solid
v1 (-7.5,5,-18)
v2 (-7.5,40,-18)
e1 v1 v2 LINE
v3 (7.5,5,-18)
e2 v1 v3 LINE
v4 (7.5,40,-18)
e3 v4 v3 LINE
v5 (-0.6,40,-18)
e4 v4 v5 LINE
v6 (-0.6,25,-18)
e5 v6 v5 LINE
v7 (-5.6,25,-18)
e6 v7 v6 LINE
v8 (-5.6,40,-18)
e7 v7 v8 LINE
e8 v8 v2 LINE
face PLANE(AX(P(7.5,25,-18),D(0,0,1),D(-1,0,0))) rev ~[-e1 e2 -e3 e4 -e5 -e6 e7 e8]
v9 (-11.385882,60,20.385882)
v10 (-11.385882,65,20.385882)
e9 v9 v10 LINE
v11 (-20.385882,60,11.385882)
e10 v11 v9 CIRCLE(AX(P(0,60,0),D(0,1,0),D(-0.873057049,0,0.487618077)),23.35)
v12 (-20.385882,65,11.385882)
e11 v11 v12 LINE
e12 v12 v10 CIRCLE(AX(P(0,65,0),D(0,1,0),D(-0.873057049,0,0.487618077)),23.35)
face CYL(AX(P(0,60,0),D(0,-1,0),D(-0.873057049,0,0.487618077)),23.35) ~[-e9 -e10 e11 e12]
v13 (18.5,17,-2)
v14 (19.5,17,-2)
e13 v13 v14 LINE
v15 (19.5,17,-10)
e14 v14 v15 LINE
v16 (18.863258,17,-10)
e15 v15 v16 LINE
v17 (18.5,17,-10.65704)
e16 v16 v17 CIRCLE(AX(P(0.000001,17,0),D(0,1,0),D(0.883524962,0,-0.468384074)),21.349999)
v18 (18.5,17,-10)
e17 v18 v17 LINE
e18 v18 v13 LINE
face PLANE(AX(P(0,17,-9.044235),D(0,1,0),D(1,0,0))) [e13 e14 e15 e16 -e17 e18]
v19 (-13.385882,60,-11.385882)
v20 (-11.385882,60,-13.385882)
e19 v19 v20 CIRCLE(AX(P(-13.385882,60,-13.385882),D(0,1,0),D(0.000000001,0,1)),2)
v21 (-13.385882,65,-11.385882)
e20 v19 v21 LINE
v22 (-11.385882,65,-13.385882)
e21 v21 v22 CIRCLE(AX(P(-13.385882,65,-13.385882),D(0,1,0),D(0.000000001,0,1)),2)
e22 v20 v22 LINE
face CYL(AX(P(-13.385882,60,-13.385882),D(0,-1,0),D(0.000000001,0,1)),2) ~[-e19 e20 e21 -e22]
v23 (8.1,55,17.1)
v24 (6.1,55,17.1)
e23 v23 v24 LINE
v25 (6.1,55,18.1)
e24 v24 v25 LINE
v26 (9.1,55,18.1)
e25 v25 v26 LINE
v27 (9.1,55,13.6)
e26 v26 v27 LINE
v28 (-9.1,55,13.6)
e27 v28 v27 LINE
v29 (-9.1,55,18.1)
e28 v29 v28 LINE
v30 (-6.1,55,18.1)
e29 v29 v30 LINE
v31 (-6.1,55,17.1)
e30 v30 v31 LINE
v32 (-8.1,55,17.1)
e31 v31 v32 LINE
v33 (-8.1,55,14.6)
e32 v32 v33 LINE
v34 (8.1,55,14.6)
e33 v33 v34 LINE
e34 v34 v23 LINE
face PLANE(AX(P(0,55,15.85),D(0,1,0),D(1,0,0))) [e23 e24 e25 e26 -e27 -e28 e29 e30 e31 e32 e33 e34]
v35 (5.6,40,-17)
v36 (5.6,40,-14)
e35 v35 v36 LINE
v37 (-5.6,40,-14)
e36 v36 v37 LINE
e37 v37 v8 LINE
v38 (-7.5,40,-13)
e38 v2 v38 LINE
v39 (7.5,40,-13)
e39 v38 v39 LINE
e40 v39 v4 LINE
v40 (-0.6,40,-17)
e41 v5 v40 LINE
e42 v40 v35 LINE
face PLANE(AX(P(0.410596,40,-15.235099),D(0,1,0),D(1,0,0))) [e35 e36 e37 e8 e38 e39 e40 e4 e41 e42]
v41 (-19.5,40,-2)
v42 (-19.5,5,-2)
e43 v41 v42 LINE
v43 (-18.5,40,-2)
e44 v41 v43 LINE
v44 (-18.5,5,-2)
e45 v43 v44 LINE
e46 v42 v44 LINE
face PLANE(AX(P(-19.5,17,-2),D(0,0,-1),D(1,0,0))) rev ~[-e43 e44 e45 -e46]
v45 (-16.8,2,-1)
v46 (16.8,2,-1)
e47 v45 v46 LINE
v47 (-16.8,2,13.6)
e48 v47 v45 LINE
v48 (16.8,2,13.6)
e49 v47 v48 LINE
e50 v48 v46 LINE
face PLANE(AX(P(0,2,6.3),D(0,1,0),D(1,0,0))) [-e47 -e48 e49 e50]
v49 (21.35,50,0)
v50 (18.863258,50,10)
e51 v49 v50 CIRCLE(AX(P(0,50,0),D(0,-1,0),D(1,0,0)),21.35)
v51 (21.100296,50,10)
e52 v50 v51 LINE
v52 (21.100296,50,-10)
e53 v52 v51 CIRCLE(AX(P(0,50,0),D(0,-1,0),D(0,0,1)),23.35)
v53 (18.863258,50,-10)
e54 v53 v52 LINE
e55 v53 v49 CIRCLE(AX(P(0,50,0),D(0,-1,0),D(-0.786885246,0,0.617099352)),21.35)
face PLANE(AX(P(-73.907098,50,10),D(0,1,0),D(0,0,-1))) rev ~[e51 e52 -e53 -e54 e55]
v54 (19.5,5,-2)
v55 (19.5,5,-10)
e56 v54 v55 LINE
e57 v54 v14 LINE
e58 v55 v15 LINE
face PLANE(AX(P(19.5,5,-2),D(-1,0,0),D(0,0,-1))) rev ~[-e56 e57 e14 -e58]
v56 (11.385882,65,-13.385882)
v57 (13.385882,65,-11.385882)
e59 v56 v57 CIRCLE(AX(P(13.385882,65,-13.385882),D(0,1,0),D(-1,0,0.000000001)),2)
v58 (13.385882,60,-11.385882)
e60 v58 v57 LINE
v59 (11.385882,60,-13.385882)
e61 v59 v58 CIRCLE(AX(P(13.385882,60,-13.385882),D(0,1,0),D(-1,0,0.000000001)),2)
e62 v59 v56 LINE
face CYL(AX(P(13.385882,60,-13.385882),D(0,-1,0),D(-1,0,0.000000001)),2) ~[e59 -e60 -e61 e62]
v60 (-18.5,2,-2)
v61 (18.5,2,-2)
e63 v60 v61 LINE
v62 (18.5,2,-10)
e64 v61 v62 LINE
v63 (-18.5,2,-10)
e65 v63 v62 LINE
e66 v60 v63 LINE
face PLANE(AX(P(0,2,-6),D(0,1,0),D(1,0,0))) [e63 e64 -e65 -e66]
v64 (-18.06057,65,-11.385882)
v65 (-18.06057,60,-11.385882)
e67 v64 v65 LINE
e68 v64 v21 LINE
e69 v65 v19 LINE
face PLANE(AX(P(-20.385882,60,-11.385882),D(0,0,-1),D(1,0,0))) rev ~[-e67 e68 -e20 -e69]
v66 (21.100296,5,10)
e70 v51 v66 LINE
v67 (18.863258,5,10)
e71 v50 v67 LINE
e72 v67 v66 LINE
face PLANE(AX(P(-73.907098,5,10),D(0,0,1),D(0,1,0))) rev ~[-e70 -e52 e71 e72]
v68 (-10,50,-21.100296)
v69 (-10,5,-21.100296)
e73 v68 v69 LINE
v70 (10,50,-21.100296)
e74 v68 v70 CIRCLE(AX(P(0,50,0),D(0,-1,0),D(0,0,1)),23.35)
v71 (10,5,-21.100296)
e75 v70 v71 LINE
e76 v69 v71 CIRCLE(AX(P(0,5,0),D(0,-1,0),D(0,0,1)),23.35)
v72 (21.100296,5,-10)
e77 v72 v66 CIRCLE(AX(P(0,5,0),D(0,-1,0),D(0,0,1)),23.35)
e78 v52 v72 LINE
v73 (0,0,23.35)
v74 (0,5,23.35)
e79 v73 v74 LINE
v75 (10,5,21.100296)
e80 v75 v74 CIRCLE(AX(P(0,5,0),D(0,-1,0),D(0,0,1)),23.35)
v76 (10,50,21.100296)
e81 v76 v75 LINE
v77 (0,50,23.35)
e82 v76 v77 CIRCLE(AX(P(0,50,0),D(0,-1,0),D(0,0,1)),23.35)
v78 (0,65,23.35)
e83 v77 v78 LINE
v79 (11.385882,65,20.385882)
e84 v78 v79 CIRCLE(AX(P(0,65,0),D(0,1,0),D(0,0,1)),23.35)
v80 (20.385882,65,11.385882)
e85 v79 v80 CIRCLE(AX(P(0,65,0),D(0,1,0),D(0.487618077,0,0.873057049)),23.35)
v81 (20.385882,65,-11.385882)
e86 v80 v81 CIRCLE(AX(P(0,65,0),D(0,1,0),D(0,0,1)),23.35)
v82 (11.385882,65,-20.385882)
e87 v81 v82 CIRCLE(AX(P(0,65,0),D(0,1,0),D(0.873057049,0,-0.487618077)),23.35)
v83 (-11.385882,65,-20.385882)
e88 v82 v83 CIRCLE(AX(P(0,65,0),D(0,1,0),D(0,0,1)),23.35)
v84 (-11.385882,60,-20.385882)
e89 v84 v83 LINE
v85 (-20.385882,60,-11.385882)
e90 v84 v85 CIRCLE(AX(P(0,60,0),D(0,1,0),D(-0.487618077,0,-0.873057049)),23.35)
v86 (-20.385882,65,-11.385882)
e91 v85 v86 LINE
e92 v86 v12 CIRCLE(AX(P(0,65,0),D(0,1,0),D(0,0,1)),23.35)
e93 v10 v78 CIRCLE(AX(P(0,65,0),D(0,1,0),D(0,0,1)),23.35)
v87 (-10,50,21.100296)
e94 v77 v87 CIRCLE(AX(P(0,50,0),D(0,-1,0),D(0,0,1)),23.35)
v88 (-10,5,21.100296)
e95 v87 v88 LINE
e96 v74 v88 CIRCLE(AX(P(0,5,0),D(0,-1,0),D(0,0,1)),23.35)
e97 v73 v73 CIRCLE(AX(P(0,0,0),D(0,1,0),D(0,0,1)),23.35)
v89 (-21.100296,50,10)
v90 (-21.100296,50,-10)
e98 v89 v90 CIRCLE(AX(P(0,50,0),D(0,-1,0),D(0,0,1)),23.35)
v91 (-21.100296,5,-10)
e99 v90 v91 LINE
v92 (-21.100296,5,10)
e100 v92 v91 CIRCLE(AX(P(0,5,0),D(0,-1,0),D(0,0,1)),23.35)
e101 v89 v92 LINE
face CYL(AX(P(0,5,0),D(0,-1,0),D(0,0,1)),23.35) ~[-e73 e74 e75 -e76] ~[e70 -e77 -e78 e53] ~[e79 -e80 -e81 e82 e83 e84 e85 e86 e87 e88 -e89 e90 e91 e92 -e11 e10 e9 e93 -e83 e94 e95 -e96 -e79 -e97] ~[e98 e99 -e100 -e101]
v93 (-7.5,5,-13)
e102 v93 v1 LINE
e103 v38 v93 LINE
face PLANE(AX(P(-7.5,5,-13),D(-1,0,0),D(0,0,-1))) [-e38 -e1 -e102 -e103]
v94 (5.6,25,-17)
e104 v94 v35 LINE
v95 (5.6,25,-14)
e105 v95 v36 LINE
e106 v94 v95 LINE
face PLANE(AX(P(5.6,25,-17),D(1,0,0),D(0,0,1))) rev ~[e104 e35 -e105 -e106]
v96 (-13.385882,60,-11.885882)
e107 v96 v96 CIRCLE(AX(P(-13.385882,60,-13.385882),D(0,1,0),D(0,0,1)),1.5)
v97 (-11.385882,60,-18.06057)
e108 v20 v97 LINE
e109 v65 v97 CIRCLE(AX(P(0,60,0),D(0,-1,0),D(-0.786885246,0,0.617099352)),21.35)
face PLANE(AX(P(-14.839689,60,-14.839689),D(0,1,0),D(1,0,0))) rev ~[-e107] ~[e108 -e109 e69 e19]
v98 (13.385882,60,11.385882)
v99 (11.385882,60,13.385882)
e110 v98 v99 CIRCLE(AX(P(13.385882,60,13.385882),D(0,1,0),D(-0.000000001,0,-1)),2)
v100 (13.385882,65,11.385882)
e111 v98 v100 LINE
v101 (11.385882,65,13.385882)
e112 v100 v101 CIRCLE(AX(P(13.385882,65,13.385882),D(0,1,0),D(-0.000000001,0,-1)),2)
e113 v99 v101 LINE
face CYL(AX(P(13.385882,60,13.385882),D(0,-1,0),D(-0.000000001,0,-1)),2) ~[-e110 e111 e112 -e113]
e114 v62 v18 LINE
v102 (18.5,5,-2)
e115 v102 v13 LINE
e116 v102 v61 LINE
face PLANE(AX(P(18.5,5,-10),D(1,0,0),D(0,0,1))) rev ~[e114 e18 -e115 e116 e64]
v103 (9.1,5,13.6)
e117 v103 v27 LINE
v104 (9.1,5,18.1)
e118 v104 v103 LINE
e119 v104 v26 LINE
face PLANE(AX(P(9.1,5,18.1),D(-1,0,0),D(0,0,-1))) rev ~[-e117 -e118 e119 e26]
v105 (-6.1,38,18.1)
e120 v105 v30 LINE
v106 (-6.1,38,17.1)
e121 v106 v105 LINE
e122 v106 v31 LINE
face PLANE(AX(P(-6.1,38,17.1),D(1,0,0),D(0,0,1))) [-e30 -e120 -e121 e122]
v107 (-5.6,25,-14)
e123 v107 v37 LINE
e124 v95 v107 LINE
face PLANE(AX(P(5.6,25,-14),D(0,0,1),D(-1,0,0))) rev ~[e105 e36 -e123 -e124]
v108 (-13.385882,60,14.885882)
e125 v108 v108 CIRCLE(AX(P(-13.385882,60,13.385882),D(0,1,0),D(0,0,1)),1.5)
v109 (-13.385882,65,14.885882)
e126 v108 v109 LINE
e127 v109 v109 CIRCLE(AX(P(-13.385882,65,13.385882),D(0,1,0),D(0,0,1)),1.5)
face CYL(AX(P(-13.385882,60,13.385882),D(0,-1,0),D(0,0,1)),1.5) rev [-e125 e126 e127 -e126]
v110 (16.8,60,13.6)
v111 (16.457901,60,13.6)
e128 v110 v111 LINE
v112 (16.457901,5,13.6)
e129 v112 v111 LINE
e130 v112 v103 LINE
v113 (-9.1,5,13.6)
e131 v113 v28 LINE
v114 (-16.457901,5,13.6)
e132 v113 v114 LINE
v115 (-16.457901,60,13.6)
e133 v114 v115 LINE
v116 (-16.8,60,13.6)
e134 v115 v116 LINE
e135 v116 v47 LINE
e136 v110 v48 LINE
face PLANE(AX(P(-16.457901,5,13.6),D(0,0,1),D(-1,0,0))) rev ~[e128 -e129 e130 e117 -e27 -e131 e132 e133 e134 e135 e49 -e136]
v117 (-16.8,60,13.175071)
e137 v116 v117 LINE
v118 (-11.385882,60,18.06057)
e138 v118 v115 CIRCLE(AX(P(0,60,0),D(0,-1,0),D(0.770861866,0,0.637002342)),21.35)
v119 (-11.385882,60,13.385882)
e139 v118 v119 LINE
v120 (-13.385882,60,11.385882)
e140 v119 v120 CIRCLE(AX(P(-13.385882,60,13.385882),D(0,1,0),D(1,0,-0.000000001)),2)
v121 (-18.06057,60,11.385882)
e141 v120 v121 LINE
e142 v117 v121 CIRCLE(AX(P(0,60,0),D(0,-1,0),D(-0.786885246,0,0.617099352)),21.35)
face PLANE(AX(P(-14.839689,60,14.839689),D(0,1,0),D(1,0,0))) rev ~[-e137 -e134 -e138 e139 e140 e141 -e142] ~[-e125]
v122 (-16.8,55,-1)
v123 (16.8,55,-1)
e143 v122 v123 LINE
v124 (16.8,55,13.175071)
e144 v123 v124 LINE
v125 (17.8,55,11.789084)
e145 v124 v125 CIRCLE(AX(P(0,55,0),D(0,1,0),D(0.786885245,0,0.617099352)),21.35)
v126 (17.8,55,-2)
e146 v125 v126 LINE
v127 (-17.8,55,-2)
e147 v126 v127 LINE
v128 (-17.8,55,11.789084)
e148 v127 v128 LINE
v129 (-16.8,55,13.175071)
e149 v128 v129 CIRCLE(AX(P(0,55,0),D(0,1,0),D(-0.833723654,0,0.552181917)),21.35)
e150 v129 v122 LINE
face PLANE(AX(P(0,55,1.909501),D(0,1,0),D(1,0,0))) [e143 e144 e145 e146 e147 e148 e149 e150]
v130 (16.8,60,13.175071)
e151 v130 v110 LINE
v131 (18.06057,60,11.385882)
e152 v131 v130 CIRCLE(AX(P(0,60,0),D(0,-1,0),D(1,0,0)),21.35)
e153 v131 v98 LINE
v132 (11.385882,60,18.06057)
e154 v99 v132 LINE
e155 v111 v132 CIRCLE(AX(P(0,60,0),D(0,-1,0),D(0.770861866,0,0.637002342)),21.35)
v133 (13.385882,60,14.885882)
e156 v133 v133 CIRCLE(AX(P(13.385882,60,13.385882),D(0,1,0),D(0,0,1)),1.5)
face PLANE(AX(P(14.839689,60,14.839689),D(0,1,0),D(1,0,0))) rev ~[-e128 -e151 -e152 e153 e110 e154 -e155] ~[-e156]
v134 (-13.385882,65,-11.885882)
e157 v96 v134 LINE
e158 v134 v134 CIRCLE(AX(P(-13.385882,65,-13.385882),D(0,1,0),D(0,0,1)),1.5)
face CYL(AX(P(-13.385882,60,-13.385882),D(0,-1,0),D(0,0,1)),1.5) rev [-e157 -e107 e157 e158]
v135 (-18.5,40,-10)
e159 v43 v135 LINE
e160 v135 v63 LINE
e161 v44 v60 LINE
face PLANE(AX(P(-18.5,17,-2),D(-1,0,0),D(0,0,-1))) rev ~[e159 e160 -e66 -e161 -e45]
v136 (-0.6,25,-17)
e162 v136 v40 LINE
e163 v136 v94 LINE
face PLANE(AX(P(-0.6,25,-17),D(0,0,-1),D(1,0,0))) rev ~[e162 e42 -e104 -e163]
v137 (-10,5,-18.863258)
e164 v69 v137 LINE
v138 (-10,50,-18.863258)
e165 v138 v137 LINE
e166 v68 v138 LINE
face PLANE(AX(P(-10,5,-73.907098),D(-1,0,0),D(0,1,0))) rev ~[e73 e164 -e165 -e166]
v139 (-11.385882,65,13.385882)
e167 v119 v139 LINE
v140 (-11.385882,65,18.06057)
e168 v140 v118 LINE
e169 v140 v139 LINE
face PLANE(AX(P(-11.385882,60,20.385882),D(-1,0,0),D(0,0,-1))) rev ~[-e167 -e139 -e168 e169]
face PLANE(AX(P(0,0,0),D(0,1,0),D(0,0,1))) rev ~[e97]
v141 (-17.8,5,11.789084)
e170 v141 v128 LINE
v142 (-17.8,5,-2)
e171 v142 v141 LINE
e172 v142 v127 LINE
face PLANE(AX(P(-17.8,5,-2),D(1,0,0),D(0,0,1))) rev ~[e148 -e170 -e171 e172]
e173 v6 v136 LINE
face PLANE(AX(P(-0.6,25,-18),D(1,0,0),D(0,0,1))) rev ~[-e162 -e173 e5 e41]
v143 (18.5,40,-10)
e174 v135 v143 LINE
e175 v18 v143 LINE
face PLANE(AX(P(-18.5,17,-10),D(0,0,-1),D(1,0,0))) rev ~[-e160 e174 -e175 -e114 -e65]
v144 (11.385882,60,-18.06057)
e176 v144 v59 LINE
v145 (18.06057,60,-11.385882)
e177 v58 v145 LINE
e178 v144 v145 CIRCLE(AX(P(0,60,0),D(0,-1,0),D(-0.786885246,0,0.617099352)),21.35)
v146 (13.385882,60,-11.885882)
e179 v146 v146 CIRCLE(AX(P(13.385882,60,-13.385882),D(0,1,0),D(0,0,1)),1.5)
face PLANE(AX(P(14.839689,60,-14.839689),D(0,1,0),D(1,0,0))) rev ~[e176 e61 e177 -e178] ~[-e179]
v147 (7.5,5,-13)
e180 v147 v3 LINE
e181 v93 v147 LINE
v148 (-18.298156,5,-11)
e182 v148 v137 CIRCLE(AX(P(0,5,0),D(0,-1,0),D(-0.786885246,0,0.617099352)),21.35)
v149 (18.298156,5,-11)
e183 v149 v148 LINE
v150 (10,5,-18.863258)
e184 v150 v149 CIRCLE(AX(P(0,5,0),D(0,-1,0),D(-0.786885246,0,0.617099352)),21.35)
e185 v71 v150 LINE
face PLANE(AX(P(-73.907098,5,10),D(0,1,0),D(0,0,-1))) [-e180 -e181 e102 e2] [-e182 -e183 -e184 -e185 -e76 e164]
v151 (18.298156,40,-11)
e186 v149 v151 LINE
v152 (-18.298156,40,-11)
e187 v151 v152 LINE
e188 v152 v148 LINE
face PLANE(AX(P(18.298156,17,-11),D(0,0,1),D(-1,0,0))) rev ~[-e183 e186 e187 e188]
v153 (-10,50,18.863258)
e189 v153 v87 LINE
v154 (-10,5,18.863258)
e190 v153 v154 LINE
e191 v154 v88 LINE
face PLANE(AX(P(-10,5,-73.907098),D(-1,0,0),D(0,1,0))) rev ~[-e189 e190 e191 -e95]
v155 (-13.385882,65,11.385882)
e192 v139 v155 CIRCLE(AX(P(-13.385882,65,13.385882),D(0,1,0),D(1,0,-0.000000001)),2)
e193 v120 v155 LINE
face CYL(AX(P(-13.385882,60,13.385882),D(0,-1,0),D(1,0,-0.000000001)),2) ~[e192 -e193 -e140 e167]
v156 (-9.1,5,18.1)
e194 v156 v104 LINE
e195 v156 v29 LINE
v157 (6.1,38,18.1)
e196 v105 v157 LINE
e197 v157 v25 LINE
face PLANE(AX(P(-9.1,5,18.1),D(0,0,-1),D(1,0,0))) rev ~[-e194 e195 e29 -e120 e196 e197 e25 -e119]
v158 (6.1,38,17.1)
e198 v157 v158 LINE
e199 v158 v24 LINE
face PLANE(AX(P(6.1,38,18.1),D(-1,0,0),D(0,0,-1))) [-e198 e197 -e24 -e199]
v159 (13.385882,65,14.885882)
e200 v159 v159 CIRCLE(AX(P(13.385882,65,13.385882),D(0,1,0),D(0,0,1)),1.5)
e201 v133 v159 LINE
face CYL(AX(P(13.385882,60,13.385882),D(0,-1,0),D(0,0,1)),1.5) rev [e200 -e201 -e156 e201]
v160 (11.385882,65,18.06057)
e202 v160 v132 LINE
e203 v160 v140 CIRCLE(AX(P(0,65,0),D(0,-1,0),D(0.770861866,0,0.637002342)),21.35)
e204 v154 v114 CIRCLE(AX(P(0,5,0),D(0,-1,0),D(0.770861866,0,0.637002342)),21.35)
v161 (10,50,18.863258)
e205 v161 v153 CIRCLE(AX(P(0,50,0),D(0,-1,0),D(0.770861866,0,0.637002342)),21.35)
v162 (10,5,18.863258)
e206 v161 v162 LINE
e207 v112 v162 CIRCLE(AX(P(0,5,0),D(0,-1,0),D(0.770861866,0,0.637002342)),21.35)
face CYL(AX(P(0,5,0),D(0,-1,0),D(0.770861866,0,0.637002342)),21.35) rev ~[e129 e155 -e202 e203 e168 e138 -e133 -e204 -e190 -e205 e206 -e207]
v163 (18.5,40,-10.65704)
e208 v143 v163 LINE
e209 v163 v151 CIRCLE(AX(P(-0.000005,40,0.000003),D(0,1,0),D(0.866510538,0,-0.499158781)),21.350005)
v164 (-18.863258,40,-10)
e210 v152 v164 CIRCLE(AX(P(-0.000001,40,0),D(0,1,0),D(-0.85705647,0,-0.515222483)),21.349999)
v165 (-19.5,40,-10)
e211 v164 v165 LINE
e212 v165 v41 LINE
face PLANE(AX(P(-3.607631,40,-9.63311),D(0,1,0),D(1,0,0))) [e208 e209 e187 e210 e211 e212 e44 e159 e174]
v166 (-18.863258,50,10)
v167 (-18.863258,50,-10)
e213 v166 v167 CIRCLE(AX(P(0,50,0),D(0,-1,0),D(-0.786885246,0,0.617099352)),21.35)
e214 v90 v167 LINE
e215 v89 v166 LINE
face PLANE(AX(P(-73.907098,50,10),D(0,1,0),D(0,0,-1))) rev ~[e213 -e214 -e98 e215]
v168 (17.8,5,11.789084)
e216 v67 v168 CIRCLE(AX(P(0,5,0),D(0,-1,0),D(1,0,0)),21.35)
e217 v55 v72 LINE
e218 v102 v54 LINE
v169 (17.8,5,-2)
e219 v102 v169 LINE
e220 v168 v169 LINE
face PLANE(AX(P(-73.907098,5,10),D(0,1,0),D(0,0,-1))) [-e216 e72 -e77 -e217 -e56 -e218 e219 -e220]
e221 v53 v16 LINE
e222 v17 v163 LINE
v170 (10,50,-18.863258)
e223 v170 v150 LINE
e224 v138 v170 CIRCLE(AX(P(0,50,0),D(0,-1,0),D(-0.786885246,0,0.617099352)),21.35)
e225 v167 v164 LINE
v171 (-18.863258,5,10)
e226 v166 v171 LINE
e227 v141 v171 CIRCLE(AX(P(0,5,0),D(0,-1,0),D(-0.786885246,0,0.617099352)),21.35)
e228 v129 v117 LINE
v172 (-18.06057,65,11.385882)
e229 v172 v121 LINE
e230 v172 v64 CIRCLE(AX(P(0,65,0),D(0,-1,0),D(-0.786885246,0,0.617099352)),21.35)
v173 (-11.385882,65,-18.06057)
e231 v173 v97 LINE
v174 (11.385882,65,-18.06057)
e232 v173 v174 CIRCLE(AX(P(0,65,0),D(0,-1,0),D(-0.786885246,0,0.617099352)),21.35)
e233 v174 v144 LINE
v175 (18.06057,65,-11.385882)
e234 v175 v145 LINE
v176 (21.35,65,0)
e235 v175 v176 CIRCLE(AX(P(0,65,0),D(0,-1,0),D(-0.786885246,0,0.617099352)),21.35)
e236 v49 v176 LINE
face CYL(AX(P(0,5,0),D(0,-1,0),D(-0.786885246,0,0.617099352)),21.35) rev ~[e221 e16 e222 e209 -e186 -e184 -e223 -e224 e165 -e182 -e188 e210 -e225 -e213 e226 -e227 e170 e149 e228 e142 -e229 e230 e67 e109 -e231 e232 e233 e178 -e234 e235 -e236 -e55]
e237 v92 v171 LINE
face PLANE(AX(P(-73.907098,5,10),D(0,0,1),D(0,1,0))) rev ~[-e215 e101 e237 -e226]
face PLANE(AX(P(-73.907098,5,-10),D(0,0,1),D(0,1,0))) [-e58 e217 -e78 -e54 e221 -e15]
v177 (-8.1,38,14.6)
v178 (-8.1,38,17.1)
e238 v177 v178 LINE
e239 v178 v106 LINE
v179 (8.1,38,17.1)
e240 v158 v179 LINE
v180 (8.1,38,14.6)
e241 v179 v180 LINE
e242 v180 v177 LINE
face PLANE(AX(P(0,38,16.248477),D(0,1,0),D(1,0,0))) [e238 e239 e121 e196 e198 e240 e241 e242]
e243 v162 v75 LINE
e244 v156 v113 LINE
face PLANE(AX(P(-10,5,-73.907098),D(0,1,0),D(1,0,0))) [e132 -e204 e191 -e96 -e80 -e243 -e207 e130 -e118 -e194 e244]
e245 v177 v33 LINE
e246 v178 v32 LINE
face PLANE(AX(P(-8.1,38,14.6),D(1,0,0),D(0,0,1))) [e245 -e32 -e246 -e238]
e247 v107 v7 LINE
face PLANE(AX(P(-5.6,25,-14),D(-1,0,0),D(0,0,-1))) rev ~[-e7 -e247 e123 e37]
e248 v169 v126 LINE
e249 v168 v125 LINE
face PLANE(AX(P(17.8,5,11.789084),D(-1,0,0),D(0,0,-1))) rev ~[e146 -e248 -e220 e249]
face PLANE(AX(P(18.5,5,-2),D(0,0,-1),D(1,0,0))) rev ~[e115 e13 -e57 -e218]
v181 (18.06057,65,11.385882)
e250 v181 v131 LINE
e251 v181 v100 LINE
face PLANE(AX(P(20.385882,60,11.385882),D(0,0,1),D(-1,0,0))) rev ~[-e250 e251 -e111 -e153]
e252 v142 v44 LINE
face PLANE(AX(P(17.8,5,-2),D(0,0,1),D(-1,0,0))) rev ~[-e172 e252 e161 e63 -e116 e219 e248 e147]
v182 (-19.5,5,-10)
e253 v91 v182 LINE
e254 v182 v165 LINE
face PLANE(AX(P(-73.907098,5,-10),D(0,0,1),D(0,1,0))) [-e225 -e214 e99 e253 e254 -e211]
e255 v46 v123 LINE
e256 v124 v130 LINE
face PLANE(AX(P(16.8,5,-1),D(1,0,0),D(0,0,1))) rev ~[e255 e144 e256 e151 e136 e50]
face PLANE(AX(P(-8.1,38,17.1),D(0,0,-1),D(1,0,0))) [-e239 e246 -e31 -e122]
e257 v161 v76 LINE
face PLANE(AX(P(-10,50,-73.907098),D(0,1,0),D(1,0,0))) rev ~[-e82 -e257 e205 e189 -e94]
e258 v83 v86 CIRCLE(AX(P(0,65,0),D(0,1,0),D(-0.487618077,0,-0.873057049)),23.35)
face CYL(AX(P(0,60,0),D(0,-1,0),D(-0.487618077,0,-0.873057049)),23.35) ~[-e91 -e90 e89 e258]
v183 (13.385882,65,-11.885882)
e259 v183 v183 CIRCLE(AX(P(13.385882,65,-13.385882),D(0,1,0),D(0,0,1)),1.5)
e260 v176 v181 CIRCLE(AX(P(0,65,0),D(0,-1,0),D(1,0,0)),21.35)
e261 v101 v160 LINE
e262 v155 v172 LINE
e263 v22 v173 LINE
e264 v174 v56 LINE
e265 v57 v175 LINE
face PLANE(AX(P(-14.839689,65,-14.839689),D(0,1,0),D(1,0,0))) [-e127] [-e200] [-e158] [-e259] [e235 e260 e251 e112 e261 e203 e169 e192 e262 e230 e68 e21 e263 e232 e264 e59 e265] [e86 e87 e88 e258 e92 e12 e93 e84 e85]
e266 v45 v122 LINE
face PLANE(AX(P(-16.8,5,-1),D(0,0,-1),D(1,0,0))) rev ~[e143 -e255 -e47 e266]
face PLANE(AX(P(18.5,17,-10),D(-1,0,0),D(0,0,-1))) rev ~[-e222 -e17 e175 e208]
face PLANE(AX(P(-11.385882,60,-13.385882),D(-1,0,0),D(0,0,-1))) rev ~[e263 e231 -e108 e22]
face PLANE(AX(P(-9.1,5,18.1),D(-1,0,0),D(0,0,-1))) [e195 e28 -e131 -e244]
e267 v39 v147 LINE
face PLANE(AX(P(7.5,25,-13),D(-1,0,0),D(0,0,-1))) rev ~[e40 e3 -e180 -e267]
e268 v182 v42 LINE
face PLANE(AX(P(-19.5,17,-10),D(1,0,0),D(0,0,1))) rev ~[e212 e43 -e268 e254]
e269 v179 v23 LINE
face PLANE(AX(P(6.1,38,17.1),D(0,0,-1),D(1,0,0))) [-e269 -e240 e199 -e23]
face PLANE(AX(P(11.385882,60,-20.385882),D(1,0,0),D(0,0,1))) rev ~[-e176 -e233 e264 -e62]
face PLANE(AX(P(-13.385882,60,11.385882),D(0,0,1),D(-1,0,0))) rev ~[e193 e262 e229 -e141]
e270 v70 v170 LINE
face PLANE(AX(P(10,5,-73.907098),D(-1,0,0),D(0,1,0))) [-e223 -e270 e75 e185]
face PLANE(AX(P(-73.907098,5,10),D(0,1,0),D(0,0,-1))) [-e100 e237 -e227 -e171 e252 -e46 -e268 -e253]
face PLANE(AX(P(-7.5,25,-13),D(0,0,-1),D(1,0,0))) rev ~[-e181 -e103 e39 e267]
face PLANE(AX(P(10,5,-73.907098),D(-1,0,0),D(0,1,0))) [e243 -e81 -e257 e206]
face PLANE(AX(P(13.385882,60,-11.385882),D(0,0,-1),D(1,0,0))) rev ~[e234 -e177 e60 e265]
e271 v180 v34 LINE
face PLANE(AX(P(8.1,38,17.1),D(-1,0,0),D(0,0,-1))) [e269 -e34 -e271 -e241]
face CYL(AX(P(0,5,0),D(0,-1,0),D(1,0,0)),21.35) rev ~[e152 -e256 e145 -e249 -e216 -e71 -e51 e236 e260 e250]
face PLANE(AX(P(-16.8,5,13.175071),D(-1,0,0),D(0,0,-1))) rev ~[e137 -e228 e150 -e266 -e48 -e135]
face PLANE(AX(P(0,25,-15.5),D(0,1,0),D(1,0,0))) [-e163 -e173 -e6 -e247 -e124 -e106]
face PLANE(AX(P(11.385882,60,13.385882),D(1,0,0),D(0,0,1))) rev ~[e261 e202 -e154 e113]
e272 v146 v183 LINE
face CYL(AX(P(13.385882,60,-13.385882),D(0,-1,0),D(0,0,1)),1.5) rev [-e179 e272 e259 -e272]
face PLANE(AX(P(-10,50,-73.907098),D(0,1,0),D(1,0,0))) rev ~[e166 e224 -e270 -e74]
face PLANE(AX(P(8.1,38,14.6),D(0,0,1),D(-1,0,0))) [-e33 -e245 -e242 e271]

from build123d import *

# Parameters (mm, degrees)
ESQUISSE1_R                  = 23.35
BOSS_EXTRU_1_DEPTH           = 5
ESQUISSE2_W                  = 37
ESQUISSE2_H                  = 8
ESQUISSE2_W_2                = 33.6
ESQUISSE2_H_2                = 14.6
ENL_V_MAT_EXTRU_4_DEPTH      = 3
ESQUISSE10_R                 = 23.35
BOSS_EXTRU_2_DEPTH           = 60
ENL_V_MAT_EXTRU_5_DEPTH      = 73.90709842
ENL_V_MAT_EXTRU_5_DEPTH_BACK = 73.90709842
ESQUISSE11_W                 = 20
ESQUISSE11_H                 = 45
ENL_V_MAT_EXTRU_6_DEPTH      = 73.90709842
ENL_V_MAT_EXTRU_6_DEPTH_BACK = 73.90709842
ESQUISSE12_W                 = 20
ESQUISSE12_H                 = 45
ESQUISSE13_W                 = 18.2
ESQUISSE13_H                 = 4.5
ESQUISSE13_W_2               = 16.2
ESQUISSE13_H_2               = 2.5
BOSS_EXTRU_4_DEPTH           = 50
ENL_V_MAT_EXTRU_7_DEPTH      = 65.151734193
ENL_V_MAT_EXTRU_7_DEPTH_BACK = 17
ESQUISSE16_W                 = 15
ESQUISSE16_H                 = 5
BOSS_EXTRU_5_DEPTH           = 20
BOSS_EXTRU_6_DEPTH           = 15
BOSS_EXTRU_7_START           = -5
ESQUISSE18_R                 = 1.5
BOSS_EXTRU_7_DEPTH           = 5
BOSS_EXTRU_8_DEPTH           = 12
BOSS_EXTRU_9_DEPTH           = 23


with BuildPart() as part:
    # Esquisse1 → Boss.-Extru.1 (new body)
    with BuildSketch(Plane(origin=(0, 0, 0), x_dir=(1, 0, 0), z_dir=(0, 1, 0))):
        with Locations(Location((0, 0, 0), (0, 0, 270))):
            Circle(ESQUISSE1_R)
    extrude(amount=BOSS_EXTRU_1_DEPTH)

    # Esquisse2 → Enlèv. mat.-Extru.4 (cut)
    with BuildSketch(Plane(origin=(0, 5, 0), x_dir=(1, 0, 0), z_dir=(0, 1, 0))):
        with Locations((0, 6)):
            Rectangle(ESQUISSE2_W, ESQUISSE2_H)
        with Locations((0, -6.3)):
            Rectangle(ESQUISSE2_W_2, ESQUISSE2_H_2)
    extrude(amount=-ENL_V_MAT_EXTRU_4_DEPTH, mode=Mode.SUBTRACT)

    # Esquisse10 → Boss.-Extru.2 (add)
    with BuildSketch(Plane(origin=(0, 5, 0), x_dir=(1, 0, 0), z_dir=(0, 1, 0))):
        with Locations(Location((0, 0, 0), (0, 0, 270))):
            Circle(ESQUISSE10_R)
        with BuildLine():
            ThreePointArc((-16.8, -13.175071157), (-6.969307713, 20.180467041), (21.35, 0))
            ThreePointArc((21.35, 0), (20.180467041, -6.969307713), (16.8, -13.175071157))
            Line((16.8, -13.175071157), (16.8, -13.6))
            Line((16.8, -13.6), (16.457900838, -13.6))
            ThreePointArc((16.457900838, -13.6), (0, -21.35), (-16.457900838, -13.6))
            Line((-16.457900838, -13.6), (-16.8, -13.6))
            Line((-16.8, -13.6), (-16.8, -13.175071157))
        make_face(mode=Mode.SUBTRACT)
    extrude(amount=BOSS_EXTRU_2_DEPTH)

    # Esquisse11 → Enlèv. mat.-Extru.5 (cut, two sides: drawn at the far end of the back side and taken through both)
    with BuildSketch(Plane.XY.offset(-ENL_V_MAT_EXTRU_5_DEPTH_BACK)):
        with Locations((0, 27.5)):
            Rectangle(ESQUISSE11_W, ESQUISSE11_H)
    extrude(amount=ENL_V_MAT_EXTRU_5_DEPTH + ENL_V_MAT_EXTRU_5_DEPTH_BACK, mode=Mode.SUBTRACT)

    # Esquisse12 → Enlèv. mat.-Extru.6 (cut, two sides: drawn at the far end of the back side and taken through both)
    with BuildSketch(Plane(origin=(0, 0, 0), x_dir=(0, 0, -1), z_dir=(1, 0, 0)).offset(-ENL_V_MAT_EXTRU_6_DEPTH_BACK)):
        with Locations((0, 27.5)):
            Rectangle(ESQUISSE12_W, ESQUISSE12_H)
    extrude(amount=ENL_V_MAT_EXTRU_6_DEPTH + ENL_V_MAT_EXTRU_6_DEPTH_BACK, mode=Mode.SUBTRACT)

    # Esquisse13 → Boss.-Extru.4 (add)
    # profile 1 of 3: a face of its own
    with BuildSketch(Plane(origin=(0, 5, 0), x_dir=(1, 0, 0), z_dir=(0, 1, 0))):
        with BuildLine():
            Line((17.8, 2), (-17.8, 2))
            Line((-17.8, 2), (-17.8, -11.789083934))
            ThreePointArc((-17.8, -11.789083934), (-17.31387421, -12.49208789), (-16.8, -13.175071157))
            Line((-16.8, -13.175071157), (-16.8, 1))
            Line((-16.8, 1), (16.8, 1))
            Line((16.8, 1), (16.8, -13.175071157))
            ThreePointArc((16.8, -13.175071157), (17.31387421, -12.49208789), (17.8, -11.789083934))
            Line((17.8, -11.789083934), (17.8, 2))
        make_face()
    # profile 2 of 3: a face of its own
    with BuildSketch(Plane(origin=(0, 5, 0), x_dir=(1, 0, 0), z_dir=(0, 1, 0))):
        with Locations((0, -15.85)):
            Rectangle(ESQUISSE13_W, ESQUISSE13_H)
        with Locations((0, -15.85)):
            Rectangle(ESQUISSE13_W_2, ESQUISSE13_H_2, mode=Mode.SUBTRACT)
    # profile 3 of 3: a face of its own
    with BuildSketch(Plane(origin=(0, 5, 0), x_dir=(1, 0, 0), z_dir=(0, 1, 0))):
        with Locations((0, -15.85)):
            Rectangle(ESQUISSE13_W_2, ESQUISSE13_H_2)
    extrude(amount=BOSS_EXTRU_4_DEPTH)

    # Esquisse15 → Enlèv. mat.-Extru.7 (cut, two sides: drawn at the far end of the back side and taken through both)
    with BuildSketch(Plane(origin=(0, 55, 0), x_dir=(1, 0, 0), z_dir=(0, 1, 0)).offset(-ENL_V_MAT_EXTRU_7_DEPTH_BACK)):
        Polygon((8.1, -14.6), (-8.1, -14.6), (-8.1, -17.1), (-6.1, -17.1), (-6.1, -18.1), (6.1, -18.1), (6.1, -17.1), (8.1, -17.1), align=None)
    extrude(amount=ENL_V_MAT_EXTRU_7_DEPTH + ENL_V_MAT_EXTRU_7_DEPTH_BACK, mode=Mode.SUBTRACT)

    # Esquisse16 → Boss.-Extru.5 (add)
    with BuildSketch(Plane(origin=(0, 5, 0), x_dir=(1, 0, 0), z_dir=(0, 1, 0))):
        with Locations((0, 15.5)):
            Rectangle(ESQUISSE16_W, ESQUISSE16_H)
    extrude(amount=BOSS_EXTRU_5_DEPTH)

    # Esquisse17 → Boss.-Extru.6 (add)
    with BuildSketch(Plane(origin=(0, 25, 0), x_dir=(1, 0, 0), z_dir=(0, 1, 0))):
        Polygon((7.5, 18), (-0.6, 18), (-0.6, 17), (5.6, 17), (5.6, 14), (-5.6, 14), (-5.6, 16.758406292), (-5.6, 18), (-7.5, 18), (-7.5, 13), (7.5, 13), align=None)
    extrude(amount=BOSS_EXTRU_6_DEPTH)

    # Esquisse18 → Boss.-Extru.7 (add)
    # profile 1 of 4: a face of its own
    with BuildSketch(Plane(origin=(0, 65, 0), x_dir=(1, 0, 0), z_dir=(0, 1, 0)).offset(BOSS_EXTRU_7_START)):
        with BuildLine():
            Line((-11.385882097, 13.385882097), (-11.385882097, 20.385882097))
            ThreePointArc((-11.385882097, 20.385882097), (-16.510943341, 16.510943341), (-20.385882097, 11.385882097))
            Line((-20.385882097, 11.385882097), (-13.385882097, 11.385882097))
            ThreePointArc((-13.385882097, 11.385882097), (-11.971668535, 11.971668535), (-11.385882097, 13.385882097))
        make_face()
        with Locations(Location((-13.385882097, 13.385882097, 0), (0, 0, 270))):
            Circle(ESQUISSE18_R, mode=Mode.SUBTRACT)
    # profile 2 of 4: a face of its own
    with BuildSketch(Plane(origin=(0, 65, 0), x_dir=(1, 0, 0), z_dir=(0, 1, 0)).offset(BOSS_EXTRU_7_START)):
        with BuildLine():
            ThreePointArc((20.385882097, 11.385882097), (16.510943341, 16.510943341), (11.385882097, 20.385882097))
            Line((11.385882097, 20.385882097), (11.385882097, 13.385882097))
            ThreePointArc((11.385882097, 13.385882097), (11.971668535, 11.971668535), (13.385882097, 11.385882097))
            Line((13.385882097, 11.385882097), (20.385882097, 11.385882097))
        make_face()
        with Locations(Location((13.385882097, 13.385882097, 0), (0, 0, 270))):
            Circle(ESQUISSE18_R, mode=Mode.SUBTRACT)
    # profile 3 of 4: a face of its own
    with BuildSketch(Plane(origin=(0, 65, 0), x_dir=(1, 0, 0), z_dir=(0, 1, 0)).offset(BOSS_EXTRU_7_START)):
        with BuildLine():
            Line((-13.385882097, -11.385882097), (-20.385882097, -11.385882097))
            ThreePointArc((-20.385882097, -11.385882097), (-16.510943341, -16.510943341), (-11.385882097, -20.385882097))
            Line((-11.385882097, -20.385882097), (-11.385882097, -13.385882097))
            ThreePointArc((-11.385882097, -13.385882097), (-11.971668535, -11.971668535), (-13.385882097, -11.385882097))
        make_face()
        with Locations(Location((-13.385882097, -13.385882097, 0), (0, 0, 270))):
            Circle(ESQUISSE18_R, mode=Mode.SUBTRACT)
    # profile 4 of 4: a face of its own
    with BuildSketch(Plane(origin=(0, 65, 0), x_dir=(1, 0, 0), z_dir=(0, 1, 0)).offset(BOSS_EXTRU_7_START)):
        with BuildLine():
            ThreePointArc((11.385882097, -20.385882097), (16.510943341, -16.510943341), (20.385882097, -11.385882097))
            Line((20.385882097, -11.385882097), (13.385882097, -11.385882097))
            ThreePointArc((13.385882097, -11.385882097), (11.971668535, -11.971668535), (11.385882097, -13.385882097))
            Line((11.385882097, -13.385882097), (11.385882097, -20.385882097))
        make_face()
        with Locations(Location((13.385882097, -13.385882097, 0), (0, 0, 270))):
            Circle(ESQUISSE18_R, mode=Mode.SUBTRACT)
    extrude(amount=BOSS_EXTRU_7_DEPTH)

    # Esquisse33 → Boss.-Extru.8 (add)
    with BuildSketch(Plane(origin=(0, 5, 0), x_dir=(1, 0, 0), z_dir=(0, 1, 0))):
        with BuildLine():
            Line((-19.5, 2), (-18.5, 2))
            Line((-18.5, 2), (-18.5, 10))
            Line((-18.5, 10), (18.5, 10))
            Line((18.5, 10), (18.5, 2))
            Line((18.5, 2), (19.5, 2))
            Line((19.5, 2), (19.5, 8.693244504))
            Line((19.5, 8.693244504), (19.5, 10))
            Line((19.5, 10), (18.863257937, 10))
            ThreePointArc((18.863257937, 10), (18.587432982, 10.503800986), (18.298155645, 11))
            Line((18.298155645, 11), (18.128988944, 11))
            Line((18.128988944, 11), (-18.298155645, 11))
            ThreePointArc((-18.298155645, 11), (-18.587432982, 10.503800986), (-18.863257937, 10))
            Line((-18.863257937, 10), (-19.5, 10))
            Line((-19.5, 10), (-19.5, 8.693244504))
            Line((-19.5, 8.693244504), (-19.5, 2))
        make_face()
    extrude(amount=BOSS_EXTRU_8_DEPTH)

    # Esquisse34 → Boss.-Extru.9 (add)
    with BuildSketch(Plane(origin=(0, 17, 0), x_dir=(1, 0, 0), z_dir=(0, 1, 0))):
        with BuildLine():
            Line((-18.5, 10), (18.5, 10))
            Line((18.5, 10), (18.5, 10.657039927))
            ThreePointArc((18.5, 10.657039927), (18.399876905, 10.828990252), (18.298155645, 11))
            Line((18.298155645, 11), (-18.298155645, 11))
            ThreePointArc((-18.298155645, 11), (-18.587432982, 10.503800986), (-18.863257937, 10))
            Line((-18.863257937, 10), (-19.5, 10))
            Line((-19.5, 10), (-19.5, 2))
            Line((-19.5, 2), (-18.5, 2))
            Line((-18.5, 2), (-18.5, 10))
        make_face()
    extrude(amount=BOSS_EXTRU_9_DEPTH)


solid = part.part
